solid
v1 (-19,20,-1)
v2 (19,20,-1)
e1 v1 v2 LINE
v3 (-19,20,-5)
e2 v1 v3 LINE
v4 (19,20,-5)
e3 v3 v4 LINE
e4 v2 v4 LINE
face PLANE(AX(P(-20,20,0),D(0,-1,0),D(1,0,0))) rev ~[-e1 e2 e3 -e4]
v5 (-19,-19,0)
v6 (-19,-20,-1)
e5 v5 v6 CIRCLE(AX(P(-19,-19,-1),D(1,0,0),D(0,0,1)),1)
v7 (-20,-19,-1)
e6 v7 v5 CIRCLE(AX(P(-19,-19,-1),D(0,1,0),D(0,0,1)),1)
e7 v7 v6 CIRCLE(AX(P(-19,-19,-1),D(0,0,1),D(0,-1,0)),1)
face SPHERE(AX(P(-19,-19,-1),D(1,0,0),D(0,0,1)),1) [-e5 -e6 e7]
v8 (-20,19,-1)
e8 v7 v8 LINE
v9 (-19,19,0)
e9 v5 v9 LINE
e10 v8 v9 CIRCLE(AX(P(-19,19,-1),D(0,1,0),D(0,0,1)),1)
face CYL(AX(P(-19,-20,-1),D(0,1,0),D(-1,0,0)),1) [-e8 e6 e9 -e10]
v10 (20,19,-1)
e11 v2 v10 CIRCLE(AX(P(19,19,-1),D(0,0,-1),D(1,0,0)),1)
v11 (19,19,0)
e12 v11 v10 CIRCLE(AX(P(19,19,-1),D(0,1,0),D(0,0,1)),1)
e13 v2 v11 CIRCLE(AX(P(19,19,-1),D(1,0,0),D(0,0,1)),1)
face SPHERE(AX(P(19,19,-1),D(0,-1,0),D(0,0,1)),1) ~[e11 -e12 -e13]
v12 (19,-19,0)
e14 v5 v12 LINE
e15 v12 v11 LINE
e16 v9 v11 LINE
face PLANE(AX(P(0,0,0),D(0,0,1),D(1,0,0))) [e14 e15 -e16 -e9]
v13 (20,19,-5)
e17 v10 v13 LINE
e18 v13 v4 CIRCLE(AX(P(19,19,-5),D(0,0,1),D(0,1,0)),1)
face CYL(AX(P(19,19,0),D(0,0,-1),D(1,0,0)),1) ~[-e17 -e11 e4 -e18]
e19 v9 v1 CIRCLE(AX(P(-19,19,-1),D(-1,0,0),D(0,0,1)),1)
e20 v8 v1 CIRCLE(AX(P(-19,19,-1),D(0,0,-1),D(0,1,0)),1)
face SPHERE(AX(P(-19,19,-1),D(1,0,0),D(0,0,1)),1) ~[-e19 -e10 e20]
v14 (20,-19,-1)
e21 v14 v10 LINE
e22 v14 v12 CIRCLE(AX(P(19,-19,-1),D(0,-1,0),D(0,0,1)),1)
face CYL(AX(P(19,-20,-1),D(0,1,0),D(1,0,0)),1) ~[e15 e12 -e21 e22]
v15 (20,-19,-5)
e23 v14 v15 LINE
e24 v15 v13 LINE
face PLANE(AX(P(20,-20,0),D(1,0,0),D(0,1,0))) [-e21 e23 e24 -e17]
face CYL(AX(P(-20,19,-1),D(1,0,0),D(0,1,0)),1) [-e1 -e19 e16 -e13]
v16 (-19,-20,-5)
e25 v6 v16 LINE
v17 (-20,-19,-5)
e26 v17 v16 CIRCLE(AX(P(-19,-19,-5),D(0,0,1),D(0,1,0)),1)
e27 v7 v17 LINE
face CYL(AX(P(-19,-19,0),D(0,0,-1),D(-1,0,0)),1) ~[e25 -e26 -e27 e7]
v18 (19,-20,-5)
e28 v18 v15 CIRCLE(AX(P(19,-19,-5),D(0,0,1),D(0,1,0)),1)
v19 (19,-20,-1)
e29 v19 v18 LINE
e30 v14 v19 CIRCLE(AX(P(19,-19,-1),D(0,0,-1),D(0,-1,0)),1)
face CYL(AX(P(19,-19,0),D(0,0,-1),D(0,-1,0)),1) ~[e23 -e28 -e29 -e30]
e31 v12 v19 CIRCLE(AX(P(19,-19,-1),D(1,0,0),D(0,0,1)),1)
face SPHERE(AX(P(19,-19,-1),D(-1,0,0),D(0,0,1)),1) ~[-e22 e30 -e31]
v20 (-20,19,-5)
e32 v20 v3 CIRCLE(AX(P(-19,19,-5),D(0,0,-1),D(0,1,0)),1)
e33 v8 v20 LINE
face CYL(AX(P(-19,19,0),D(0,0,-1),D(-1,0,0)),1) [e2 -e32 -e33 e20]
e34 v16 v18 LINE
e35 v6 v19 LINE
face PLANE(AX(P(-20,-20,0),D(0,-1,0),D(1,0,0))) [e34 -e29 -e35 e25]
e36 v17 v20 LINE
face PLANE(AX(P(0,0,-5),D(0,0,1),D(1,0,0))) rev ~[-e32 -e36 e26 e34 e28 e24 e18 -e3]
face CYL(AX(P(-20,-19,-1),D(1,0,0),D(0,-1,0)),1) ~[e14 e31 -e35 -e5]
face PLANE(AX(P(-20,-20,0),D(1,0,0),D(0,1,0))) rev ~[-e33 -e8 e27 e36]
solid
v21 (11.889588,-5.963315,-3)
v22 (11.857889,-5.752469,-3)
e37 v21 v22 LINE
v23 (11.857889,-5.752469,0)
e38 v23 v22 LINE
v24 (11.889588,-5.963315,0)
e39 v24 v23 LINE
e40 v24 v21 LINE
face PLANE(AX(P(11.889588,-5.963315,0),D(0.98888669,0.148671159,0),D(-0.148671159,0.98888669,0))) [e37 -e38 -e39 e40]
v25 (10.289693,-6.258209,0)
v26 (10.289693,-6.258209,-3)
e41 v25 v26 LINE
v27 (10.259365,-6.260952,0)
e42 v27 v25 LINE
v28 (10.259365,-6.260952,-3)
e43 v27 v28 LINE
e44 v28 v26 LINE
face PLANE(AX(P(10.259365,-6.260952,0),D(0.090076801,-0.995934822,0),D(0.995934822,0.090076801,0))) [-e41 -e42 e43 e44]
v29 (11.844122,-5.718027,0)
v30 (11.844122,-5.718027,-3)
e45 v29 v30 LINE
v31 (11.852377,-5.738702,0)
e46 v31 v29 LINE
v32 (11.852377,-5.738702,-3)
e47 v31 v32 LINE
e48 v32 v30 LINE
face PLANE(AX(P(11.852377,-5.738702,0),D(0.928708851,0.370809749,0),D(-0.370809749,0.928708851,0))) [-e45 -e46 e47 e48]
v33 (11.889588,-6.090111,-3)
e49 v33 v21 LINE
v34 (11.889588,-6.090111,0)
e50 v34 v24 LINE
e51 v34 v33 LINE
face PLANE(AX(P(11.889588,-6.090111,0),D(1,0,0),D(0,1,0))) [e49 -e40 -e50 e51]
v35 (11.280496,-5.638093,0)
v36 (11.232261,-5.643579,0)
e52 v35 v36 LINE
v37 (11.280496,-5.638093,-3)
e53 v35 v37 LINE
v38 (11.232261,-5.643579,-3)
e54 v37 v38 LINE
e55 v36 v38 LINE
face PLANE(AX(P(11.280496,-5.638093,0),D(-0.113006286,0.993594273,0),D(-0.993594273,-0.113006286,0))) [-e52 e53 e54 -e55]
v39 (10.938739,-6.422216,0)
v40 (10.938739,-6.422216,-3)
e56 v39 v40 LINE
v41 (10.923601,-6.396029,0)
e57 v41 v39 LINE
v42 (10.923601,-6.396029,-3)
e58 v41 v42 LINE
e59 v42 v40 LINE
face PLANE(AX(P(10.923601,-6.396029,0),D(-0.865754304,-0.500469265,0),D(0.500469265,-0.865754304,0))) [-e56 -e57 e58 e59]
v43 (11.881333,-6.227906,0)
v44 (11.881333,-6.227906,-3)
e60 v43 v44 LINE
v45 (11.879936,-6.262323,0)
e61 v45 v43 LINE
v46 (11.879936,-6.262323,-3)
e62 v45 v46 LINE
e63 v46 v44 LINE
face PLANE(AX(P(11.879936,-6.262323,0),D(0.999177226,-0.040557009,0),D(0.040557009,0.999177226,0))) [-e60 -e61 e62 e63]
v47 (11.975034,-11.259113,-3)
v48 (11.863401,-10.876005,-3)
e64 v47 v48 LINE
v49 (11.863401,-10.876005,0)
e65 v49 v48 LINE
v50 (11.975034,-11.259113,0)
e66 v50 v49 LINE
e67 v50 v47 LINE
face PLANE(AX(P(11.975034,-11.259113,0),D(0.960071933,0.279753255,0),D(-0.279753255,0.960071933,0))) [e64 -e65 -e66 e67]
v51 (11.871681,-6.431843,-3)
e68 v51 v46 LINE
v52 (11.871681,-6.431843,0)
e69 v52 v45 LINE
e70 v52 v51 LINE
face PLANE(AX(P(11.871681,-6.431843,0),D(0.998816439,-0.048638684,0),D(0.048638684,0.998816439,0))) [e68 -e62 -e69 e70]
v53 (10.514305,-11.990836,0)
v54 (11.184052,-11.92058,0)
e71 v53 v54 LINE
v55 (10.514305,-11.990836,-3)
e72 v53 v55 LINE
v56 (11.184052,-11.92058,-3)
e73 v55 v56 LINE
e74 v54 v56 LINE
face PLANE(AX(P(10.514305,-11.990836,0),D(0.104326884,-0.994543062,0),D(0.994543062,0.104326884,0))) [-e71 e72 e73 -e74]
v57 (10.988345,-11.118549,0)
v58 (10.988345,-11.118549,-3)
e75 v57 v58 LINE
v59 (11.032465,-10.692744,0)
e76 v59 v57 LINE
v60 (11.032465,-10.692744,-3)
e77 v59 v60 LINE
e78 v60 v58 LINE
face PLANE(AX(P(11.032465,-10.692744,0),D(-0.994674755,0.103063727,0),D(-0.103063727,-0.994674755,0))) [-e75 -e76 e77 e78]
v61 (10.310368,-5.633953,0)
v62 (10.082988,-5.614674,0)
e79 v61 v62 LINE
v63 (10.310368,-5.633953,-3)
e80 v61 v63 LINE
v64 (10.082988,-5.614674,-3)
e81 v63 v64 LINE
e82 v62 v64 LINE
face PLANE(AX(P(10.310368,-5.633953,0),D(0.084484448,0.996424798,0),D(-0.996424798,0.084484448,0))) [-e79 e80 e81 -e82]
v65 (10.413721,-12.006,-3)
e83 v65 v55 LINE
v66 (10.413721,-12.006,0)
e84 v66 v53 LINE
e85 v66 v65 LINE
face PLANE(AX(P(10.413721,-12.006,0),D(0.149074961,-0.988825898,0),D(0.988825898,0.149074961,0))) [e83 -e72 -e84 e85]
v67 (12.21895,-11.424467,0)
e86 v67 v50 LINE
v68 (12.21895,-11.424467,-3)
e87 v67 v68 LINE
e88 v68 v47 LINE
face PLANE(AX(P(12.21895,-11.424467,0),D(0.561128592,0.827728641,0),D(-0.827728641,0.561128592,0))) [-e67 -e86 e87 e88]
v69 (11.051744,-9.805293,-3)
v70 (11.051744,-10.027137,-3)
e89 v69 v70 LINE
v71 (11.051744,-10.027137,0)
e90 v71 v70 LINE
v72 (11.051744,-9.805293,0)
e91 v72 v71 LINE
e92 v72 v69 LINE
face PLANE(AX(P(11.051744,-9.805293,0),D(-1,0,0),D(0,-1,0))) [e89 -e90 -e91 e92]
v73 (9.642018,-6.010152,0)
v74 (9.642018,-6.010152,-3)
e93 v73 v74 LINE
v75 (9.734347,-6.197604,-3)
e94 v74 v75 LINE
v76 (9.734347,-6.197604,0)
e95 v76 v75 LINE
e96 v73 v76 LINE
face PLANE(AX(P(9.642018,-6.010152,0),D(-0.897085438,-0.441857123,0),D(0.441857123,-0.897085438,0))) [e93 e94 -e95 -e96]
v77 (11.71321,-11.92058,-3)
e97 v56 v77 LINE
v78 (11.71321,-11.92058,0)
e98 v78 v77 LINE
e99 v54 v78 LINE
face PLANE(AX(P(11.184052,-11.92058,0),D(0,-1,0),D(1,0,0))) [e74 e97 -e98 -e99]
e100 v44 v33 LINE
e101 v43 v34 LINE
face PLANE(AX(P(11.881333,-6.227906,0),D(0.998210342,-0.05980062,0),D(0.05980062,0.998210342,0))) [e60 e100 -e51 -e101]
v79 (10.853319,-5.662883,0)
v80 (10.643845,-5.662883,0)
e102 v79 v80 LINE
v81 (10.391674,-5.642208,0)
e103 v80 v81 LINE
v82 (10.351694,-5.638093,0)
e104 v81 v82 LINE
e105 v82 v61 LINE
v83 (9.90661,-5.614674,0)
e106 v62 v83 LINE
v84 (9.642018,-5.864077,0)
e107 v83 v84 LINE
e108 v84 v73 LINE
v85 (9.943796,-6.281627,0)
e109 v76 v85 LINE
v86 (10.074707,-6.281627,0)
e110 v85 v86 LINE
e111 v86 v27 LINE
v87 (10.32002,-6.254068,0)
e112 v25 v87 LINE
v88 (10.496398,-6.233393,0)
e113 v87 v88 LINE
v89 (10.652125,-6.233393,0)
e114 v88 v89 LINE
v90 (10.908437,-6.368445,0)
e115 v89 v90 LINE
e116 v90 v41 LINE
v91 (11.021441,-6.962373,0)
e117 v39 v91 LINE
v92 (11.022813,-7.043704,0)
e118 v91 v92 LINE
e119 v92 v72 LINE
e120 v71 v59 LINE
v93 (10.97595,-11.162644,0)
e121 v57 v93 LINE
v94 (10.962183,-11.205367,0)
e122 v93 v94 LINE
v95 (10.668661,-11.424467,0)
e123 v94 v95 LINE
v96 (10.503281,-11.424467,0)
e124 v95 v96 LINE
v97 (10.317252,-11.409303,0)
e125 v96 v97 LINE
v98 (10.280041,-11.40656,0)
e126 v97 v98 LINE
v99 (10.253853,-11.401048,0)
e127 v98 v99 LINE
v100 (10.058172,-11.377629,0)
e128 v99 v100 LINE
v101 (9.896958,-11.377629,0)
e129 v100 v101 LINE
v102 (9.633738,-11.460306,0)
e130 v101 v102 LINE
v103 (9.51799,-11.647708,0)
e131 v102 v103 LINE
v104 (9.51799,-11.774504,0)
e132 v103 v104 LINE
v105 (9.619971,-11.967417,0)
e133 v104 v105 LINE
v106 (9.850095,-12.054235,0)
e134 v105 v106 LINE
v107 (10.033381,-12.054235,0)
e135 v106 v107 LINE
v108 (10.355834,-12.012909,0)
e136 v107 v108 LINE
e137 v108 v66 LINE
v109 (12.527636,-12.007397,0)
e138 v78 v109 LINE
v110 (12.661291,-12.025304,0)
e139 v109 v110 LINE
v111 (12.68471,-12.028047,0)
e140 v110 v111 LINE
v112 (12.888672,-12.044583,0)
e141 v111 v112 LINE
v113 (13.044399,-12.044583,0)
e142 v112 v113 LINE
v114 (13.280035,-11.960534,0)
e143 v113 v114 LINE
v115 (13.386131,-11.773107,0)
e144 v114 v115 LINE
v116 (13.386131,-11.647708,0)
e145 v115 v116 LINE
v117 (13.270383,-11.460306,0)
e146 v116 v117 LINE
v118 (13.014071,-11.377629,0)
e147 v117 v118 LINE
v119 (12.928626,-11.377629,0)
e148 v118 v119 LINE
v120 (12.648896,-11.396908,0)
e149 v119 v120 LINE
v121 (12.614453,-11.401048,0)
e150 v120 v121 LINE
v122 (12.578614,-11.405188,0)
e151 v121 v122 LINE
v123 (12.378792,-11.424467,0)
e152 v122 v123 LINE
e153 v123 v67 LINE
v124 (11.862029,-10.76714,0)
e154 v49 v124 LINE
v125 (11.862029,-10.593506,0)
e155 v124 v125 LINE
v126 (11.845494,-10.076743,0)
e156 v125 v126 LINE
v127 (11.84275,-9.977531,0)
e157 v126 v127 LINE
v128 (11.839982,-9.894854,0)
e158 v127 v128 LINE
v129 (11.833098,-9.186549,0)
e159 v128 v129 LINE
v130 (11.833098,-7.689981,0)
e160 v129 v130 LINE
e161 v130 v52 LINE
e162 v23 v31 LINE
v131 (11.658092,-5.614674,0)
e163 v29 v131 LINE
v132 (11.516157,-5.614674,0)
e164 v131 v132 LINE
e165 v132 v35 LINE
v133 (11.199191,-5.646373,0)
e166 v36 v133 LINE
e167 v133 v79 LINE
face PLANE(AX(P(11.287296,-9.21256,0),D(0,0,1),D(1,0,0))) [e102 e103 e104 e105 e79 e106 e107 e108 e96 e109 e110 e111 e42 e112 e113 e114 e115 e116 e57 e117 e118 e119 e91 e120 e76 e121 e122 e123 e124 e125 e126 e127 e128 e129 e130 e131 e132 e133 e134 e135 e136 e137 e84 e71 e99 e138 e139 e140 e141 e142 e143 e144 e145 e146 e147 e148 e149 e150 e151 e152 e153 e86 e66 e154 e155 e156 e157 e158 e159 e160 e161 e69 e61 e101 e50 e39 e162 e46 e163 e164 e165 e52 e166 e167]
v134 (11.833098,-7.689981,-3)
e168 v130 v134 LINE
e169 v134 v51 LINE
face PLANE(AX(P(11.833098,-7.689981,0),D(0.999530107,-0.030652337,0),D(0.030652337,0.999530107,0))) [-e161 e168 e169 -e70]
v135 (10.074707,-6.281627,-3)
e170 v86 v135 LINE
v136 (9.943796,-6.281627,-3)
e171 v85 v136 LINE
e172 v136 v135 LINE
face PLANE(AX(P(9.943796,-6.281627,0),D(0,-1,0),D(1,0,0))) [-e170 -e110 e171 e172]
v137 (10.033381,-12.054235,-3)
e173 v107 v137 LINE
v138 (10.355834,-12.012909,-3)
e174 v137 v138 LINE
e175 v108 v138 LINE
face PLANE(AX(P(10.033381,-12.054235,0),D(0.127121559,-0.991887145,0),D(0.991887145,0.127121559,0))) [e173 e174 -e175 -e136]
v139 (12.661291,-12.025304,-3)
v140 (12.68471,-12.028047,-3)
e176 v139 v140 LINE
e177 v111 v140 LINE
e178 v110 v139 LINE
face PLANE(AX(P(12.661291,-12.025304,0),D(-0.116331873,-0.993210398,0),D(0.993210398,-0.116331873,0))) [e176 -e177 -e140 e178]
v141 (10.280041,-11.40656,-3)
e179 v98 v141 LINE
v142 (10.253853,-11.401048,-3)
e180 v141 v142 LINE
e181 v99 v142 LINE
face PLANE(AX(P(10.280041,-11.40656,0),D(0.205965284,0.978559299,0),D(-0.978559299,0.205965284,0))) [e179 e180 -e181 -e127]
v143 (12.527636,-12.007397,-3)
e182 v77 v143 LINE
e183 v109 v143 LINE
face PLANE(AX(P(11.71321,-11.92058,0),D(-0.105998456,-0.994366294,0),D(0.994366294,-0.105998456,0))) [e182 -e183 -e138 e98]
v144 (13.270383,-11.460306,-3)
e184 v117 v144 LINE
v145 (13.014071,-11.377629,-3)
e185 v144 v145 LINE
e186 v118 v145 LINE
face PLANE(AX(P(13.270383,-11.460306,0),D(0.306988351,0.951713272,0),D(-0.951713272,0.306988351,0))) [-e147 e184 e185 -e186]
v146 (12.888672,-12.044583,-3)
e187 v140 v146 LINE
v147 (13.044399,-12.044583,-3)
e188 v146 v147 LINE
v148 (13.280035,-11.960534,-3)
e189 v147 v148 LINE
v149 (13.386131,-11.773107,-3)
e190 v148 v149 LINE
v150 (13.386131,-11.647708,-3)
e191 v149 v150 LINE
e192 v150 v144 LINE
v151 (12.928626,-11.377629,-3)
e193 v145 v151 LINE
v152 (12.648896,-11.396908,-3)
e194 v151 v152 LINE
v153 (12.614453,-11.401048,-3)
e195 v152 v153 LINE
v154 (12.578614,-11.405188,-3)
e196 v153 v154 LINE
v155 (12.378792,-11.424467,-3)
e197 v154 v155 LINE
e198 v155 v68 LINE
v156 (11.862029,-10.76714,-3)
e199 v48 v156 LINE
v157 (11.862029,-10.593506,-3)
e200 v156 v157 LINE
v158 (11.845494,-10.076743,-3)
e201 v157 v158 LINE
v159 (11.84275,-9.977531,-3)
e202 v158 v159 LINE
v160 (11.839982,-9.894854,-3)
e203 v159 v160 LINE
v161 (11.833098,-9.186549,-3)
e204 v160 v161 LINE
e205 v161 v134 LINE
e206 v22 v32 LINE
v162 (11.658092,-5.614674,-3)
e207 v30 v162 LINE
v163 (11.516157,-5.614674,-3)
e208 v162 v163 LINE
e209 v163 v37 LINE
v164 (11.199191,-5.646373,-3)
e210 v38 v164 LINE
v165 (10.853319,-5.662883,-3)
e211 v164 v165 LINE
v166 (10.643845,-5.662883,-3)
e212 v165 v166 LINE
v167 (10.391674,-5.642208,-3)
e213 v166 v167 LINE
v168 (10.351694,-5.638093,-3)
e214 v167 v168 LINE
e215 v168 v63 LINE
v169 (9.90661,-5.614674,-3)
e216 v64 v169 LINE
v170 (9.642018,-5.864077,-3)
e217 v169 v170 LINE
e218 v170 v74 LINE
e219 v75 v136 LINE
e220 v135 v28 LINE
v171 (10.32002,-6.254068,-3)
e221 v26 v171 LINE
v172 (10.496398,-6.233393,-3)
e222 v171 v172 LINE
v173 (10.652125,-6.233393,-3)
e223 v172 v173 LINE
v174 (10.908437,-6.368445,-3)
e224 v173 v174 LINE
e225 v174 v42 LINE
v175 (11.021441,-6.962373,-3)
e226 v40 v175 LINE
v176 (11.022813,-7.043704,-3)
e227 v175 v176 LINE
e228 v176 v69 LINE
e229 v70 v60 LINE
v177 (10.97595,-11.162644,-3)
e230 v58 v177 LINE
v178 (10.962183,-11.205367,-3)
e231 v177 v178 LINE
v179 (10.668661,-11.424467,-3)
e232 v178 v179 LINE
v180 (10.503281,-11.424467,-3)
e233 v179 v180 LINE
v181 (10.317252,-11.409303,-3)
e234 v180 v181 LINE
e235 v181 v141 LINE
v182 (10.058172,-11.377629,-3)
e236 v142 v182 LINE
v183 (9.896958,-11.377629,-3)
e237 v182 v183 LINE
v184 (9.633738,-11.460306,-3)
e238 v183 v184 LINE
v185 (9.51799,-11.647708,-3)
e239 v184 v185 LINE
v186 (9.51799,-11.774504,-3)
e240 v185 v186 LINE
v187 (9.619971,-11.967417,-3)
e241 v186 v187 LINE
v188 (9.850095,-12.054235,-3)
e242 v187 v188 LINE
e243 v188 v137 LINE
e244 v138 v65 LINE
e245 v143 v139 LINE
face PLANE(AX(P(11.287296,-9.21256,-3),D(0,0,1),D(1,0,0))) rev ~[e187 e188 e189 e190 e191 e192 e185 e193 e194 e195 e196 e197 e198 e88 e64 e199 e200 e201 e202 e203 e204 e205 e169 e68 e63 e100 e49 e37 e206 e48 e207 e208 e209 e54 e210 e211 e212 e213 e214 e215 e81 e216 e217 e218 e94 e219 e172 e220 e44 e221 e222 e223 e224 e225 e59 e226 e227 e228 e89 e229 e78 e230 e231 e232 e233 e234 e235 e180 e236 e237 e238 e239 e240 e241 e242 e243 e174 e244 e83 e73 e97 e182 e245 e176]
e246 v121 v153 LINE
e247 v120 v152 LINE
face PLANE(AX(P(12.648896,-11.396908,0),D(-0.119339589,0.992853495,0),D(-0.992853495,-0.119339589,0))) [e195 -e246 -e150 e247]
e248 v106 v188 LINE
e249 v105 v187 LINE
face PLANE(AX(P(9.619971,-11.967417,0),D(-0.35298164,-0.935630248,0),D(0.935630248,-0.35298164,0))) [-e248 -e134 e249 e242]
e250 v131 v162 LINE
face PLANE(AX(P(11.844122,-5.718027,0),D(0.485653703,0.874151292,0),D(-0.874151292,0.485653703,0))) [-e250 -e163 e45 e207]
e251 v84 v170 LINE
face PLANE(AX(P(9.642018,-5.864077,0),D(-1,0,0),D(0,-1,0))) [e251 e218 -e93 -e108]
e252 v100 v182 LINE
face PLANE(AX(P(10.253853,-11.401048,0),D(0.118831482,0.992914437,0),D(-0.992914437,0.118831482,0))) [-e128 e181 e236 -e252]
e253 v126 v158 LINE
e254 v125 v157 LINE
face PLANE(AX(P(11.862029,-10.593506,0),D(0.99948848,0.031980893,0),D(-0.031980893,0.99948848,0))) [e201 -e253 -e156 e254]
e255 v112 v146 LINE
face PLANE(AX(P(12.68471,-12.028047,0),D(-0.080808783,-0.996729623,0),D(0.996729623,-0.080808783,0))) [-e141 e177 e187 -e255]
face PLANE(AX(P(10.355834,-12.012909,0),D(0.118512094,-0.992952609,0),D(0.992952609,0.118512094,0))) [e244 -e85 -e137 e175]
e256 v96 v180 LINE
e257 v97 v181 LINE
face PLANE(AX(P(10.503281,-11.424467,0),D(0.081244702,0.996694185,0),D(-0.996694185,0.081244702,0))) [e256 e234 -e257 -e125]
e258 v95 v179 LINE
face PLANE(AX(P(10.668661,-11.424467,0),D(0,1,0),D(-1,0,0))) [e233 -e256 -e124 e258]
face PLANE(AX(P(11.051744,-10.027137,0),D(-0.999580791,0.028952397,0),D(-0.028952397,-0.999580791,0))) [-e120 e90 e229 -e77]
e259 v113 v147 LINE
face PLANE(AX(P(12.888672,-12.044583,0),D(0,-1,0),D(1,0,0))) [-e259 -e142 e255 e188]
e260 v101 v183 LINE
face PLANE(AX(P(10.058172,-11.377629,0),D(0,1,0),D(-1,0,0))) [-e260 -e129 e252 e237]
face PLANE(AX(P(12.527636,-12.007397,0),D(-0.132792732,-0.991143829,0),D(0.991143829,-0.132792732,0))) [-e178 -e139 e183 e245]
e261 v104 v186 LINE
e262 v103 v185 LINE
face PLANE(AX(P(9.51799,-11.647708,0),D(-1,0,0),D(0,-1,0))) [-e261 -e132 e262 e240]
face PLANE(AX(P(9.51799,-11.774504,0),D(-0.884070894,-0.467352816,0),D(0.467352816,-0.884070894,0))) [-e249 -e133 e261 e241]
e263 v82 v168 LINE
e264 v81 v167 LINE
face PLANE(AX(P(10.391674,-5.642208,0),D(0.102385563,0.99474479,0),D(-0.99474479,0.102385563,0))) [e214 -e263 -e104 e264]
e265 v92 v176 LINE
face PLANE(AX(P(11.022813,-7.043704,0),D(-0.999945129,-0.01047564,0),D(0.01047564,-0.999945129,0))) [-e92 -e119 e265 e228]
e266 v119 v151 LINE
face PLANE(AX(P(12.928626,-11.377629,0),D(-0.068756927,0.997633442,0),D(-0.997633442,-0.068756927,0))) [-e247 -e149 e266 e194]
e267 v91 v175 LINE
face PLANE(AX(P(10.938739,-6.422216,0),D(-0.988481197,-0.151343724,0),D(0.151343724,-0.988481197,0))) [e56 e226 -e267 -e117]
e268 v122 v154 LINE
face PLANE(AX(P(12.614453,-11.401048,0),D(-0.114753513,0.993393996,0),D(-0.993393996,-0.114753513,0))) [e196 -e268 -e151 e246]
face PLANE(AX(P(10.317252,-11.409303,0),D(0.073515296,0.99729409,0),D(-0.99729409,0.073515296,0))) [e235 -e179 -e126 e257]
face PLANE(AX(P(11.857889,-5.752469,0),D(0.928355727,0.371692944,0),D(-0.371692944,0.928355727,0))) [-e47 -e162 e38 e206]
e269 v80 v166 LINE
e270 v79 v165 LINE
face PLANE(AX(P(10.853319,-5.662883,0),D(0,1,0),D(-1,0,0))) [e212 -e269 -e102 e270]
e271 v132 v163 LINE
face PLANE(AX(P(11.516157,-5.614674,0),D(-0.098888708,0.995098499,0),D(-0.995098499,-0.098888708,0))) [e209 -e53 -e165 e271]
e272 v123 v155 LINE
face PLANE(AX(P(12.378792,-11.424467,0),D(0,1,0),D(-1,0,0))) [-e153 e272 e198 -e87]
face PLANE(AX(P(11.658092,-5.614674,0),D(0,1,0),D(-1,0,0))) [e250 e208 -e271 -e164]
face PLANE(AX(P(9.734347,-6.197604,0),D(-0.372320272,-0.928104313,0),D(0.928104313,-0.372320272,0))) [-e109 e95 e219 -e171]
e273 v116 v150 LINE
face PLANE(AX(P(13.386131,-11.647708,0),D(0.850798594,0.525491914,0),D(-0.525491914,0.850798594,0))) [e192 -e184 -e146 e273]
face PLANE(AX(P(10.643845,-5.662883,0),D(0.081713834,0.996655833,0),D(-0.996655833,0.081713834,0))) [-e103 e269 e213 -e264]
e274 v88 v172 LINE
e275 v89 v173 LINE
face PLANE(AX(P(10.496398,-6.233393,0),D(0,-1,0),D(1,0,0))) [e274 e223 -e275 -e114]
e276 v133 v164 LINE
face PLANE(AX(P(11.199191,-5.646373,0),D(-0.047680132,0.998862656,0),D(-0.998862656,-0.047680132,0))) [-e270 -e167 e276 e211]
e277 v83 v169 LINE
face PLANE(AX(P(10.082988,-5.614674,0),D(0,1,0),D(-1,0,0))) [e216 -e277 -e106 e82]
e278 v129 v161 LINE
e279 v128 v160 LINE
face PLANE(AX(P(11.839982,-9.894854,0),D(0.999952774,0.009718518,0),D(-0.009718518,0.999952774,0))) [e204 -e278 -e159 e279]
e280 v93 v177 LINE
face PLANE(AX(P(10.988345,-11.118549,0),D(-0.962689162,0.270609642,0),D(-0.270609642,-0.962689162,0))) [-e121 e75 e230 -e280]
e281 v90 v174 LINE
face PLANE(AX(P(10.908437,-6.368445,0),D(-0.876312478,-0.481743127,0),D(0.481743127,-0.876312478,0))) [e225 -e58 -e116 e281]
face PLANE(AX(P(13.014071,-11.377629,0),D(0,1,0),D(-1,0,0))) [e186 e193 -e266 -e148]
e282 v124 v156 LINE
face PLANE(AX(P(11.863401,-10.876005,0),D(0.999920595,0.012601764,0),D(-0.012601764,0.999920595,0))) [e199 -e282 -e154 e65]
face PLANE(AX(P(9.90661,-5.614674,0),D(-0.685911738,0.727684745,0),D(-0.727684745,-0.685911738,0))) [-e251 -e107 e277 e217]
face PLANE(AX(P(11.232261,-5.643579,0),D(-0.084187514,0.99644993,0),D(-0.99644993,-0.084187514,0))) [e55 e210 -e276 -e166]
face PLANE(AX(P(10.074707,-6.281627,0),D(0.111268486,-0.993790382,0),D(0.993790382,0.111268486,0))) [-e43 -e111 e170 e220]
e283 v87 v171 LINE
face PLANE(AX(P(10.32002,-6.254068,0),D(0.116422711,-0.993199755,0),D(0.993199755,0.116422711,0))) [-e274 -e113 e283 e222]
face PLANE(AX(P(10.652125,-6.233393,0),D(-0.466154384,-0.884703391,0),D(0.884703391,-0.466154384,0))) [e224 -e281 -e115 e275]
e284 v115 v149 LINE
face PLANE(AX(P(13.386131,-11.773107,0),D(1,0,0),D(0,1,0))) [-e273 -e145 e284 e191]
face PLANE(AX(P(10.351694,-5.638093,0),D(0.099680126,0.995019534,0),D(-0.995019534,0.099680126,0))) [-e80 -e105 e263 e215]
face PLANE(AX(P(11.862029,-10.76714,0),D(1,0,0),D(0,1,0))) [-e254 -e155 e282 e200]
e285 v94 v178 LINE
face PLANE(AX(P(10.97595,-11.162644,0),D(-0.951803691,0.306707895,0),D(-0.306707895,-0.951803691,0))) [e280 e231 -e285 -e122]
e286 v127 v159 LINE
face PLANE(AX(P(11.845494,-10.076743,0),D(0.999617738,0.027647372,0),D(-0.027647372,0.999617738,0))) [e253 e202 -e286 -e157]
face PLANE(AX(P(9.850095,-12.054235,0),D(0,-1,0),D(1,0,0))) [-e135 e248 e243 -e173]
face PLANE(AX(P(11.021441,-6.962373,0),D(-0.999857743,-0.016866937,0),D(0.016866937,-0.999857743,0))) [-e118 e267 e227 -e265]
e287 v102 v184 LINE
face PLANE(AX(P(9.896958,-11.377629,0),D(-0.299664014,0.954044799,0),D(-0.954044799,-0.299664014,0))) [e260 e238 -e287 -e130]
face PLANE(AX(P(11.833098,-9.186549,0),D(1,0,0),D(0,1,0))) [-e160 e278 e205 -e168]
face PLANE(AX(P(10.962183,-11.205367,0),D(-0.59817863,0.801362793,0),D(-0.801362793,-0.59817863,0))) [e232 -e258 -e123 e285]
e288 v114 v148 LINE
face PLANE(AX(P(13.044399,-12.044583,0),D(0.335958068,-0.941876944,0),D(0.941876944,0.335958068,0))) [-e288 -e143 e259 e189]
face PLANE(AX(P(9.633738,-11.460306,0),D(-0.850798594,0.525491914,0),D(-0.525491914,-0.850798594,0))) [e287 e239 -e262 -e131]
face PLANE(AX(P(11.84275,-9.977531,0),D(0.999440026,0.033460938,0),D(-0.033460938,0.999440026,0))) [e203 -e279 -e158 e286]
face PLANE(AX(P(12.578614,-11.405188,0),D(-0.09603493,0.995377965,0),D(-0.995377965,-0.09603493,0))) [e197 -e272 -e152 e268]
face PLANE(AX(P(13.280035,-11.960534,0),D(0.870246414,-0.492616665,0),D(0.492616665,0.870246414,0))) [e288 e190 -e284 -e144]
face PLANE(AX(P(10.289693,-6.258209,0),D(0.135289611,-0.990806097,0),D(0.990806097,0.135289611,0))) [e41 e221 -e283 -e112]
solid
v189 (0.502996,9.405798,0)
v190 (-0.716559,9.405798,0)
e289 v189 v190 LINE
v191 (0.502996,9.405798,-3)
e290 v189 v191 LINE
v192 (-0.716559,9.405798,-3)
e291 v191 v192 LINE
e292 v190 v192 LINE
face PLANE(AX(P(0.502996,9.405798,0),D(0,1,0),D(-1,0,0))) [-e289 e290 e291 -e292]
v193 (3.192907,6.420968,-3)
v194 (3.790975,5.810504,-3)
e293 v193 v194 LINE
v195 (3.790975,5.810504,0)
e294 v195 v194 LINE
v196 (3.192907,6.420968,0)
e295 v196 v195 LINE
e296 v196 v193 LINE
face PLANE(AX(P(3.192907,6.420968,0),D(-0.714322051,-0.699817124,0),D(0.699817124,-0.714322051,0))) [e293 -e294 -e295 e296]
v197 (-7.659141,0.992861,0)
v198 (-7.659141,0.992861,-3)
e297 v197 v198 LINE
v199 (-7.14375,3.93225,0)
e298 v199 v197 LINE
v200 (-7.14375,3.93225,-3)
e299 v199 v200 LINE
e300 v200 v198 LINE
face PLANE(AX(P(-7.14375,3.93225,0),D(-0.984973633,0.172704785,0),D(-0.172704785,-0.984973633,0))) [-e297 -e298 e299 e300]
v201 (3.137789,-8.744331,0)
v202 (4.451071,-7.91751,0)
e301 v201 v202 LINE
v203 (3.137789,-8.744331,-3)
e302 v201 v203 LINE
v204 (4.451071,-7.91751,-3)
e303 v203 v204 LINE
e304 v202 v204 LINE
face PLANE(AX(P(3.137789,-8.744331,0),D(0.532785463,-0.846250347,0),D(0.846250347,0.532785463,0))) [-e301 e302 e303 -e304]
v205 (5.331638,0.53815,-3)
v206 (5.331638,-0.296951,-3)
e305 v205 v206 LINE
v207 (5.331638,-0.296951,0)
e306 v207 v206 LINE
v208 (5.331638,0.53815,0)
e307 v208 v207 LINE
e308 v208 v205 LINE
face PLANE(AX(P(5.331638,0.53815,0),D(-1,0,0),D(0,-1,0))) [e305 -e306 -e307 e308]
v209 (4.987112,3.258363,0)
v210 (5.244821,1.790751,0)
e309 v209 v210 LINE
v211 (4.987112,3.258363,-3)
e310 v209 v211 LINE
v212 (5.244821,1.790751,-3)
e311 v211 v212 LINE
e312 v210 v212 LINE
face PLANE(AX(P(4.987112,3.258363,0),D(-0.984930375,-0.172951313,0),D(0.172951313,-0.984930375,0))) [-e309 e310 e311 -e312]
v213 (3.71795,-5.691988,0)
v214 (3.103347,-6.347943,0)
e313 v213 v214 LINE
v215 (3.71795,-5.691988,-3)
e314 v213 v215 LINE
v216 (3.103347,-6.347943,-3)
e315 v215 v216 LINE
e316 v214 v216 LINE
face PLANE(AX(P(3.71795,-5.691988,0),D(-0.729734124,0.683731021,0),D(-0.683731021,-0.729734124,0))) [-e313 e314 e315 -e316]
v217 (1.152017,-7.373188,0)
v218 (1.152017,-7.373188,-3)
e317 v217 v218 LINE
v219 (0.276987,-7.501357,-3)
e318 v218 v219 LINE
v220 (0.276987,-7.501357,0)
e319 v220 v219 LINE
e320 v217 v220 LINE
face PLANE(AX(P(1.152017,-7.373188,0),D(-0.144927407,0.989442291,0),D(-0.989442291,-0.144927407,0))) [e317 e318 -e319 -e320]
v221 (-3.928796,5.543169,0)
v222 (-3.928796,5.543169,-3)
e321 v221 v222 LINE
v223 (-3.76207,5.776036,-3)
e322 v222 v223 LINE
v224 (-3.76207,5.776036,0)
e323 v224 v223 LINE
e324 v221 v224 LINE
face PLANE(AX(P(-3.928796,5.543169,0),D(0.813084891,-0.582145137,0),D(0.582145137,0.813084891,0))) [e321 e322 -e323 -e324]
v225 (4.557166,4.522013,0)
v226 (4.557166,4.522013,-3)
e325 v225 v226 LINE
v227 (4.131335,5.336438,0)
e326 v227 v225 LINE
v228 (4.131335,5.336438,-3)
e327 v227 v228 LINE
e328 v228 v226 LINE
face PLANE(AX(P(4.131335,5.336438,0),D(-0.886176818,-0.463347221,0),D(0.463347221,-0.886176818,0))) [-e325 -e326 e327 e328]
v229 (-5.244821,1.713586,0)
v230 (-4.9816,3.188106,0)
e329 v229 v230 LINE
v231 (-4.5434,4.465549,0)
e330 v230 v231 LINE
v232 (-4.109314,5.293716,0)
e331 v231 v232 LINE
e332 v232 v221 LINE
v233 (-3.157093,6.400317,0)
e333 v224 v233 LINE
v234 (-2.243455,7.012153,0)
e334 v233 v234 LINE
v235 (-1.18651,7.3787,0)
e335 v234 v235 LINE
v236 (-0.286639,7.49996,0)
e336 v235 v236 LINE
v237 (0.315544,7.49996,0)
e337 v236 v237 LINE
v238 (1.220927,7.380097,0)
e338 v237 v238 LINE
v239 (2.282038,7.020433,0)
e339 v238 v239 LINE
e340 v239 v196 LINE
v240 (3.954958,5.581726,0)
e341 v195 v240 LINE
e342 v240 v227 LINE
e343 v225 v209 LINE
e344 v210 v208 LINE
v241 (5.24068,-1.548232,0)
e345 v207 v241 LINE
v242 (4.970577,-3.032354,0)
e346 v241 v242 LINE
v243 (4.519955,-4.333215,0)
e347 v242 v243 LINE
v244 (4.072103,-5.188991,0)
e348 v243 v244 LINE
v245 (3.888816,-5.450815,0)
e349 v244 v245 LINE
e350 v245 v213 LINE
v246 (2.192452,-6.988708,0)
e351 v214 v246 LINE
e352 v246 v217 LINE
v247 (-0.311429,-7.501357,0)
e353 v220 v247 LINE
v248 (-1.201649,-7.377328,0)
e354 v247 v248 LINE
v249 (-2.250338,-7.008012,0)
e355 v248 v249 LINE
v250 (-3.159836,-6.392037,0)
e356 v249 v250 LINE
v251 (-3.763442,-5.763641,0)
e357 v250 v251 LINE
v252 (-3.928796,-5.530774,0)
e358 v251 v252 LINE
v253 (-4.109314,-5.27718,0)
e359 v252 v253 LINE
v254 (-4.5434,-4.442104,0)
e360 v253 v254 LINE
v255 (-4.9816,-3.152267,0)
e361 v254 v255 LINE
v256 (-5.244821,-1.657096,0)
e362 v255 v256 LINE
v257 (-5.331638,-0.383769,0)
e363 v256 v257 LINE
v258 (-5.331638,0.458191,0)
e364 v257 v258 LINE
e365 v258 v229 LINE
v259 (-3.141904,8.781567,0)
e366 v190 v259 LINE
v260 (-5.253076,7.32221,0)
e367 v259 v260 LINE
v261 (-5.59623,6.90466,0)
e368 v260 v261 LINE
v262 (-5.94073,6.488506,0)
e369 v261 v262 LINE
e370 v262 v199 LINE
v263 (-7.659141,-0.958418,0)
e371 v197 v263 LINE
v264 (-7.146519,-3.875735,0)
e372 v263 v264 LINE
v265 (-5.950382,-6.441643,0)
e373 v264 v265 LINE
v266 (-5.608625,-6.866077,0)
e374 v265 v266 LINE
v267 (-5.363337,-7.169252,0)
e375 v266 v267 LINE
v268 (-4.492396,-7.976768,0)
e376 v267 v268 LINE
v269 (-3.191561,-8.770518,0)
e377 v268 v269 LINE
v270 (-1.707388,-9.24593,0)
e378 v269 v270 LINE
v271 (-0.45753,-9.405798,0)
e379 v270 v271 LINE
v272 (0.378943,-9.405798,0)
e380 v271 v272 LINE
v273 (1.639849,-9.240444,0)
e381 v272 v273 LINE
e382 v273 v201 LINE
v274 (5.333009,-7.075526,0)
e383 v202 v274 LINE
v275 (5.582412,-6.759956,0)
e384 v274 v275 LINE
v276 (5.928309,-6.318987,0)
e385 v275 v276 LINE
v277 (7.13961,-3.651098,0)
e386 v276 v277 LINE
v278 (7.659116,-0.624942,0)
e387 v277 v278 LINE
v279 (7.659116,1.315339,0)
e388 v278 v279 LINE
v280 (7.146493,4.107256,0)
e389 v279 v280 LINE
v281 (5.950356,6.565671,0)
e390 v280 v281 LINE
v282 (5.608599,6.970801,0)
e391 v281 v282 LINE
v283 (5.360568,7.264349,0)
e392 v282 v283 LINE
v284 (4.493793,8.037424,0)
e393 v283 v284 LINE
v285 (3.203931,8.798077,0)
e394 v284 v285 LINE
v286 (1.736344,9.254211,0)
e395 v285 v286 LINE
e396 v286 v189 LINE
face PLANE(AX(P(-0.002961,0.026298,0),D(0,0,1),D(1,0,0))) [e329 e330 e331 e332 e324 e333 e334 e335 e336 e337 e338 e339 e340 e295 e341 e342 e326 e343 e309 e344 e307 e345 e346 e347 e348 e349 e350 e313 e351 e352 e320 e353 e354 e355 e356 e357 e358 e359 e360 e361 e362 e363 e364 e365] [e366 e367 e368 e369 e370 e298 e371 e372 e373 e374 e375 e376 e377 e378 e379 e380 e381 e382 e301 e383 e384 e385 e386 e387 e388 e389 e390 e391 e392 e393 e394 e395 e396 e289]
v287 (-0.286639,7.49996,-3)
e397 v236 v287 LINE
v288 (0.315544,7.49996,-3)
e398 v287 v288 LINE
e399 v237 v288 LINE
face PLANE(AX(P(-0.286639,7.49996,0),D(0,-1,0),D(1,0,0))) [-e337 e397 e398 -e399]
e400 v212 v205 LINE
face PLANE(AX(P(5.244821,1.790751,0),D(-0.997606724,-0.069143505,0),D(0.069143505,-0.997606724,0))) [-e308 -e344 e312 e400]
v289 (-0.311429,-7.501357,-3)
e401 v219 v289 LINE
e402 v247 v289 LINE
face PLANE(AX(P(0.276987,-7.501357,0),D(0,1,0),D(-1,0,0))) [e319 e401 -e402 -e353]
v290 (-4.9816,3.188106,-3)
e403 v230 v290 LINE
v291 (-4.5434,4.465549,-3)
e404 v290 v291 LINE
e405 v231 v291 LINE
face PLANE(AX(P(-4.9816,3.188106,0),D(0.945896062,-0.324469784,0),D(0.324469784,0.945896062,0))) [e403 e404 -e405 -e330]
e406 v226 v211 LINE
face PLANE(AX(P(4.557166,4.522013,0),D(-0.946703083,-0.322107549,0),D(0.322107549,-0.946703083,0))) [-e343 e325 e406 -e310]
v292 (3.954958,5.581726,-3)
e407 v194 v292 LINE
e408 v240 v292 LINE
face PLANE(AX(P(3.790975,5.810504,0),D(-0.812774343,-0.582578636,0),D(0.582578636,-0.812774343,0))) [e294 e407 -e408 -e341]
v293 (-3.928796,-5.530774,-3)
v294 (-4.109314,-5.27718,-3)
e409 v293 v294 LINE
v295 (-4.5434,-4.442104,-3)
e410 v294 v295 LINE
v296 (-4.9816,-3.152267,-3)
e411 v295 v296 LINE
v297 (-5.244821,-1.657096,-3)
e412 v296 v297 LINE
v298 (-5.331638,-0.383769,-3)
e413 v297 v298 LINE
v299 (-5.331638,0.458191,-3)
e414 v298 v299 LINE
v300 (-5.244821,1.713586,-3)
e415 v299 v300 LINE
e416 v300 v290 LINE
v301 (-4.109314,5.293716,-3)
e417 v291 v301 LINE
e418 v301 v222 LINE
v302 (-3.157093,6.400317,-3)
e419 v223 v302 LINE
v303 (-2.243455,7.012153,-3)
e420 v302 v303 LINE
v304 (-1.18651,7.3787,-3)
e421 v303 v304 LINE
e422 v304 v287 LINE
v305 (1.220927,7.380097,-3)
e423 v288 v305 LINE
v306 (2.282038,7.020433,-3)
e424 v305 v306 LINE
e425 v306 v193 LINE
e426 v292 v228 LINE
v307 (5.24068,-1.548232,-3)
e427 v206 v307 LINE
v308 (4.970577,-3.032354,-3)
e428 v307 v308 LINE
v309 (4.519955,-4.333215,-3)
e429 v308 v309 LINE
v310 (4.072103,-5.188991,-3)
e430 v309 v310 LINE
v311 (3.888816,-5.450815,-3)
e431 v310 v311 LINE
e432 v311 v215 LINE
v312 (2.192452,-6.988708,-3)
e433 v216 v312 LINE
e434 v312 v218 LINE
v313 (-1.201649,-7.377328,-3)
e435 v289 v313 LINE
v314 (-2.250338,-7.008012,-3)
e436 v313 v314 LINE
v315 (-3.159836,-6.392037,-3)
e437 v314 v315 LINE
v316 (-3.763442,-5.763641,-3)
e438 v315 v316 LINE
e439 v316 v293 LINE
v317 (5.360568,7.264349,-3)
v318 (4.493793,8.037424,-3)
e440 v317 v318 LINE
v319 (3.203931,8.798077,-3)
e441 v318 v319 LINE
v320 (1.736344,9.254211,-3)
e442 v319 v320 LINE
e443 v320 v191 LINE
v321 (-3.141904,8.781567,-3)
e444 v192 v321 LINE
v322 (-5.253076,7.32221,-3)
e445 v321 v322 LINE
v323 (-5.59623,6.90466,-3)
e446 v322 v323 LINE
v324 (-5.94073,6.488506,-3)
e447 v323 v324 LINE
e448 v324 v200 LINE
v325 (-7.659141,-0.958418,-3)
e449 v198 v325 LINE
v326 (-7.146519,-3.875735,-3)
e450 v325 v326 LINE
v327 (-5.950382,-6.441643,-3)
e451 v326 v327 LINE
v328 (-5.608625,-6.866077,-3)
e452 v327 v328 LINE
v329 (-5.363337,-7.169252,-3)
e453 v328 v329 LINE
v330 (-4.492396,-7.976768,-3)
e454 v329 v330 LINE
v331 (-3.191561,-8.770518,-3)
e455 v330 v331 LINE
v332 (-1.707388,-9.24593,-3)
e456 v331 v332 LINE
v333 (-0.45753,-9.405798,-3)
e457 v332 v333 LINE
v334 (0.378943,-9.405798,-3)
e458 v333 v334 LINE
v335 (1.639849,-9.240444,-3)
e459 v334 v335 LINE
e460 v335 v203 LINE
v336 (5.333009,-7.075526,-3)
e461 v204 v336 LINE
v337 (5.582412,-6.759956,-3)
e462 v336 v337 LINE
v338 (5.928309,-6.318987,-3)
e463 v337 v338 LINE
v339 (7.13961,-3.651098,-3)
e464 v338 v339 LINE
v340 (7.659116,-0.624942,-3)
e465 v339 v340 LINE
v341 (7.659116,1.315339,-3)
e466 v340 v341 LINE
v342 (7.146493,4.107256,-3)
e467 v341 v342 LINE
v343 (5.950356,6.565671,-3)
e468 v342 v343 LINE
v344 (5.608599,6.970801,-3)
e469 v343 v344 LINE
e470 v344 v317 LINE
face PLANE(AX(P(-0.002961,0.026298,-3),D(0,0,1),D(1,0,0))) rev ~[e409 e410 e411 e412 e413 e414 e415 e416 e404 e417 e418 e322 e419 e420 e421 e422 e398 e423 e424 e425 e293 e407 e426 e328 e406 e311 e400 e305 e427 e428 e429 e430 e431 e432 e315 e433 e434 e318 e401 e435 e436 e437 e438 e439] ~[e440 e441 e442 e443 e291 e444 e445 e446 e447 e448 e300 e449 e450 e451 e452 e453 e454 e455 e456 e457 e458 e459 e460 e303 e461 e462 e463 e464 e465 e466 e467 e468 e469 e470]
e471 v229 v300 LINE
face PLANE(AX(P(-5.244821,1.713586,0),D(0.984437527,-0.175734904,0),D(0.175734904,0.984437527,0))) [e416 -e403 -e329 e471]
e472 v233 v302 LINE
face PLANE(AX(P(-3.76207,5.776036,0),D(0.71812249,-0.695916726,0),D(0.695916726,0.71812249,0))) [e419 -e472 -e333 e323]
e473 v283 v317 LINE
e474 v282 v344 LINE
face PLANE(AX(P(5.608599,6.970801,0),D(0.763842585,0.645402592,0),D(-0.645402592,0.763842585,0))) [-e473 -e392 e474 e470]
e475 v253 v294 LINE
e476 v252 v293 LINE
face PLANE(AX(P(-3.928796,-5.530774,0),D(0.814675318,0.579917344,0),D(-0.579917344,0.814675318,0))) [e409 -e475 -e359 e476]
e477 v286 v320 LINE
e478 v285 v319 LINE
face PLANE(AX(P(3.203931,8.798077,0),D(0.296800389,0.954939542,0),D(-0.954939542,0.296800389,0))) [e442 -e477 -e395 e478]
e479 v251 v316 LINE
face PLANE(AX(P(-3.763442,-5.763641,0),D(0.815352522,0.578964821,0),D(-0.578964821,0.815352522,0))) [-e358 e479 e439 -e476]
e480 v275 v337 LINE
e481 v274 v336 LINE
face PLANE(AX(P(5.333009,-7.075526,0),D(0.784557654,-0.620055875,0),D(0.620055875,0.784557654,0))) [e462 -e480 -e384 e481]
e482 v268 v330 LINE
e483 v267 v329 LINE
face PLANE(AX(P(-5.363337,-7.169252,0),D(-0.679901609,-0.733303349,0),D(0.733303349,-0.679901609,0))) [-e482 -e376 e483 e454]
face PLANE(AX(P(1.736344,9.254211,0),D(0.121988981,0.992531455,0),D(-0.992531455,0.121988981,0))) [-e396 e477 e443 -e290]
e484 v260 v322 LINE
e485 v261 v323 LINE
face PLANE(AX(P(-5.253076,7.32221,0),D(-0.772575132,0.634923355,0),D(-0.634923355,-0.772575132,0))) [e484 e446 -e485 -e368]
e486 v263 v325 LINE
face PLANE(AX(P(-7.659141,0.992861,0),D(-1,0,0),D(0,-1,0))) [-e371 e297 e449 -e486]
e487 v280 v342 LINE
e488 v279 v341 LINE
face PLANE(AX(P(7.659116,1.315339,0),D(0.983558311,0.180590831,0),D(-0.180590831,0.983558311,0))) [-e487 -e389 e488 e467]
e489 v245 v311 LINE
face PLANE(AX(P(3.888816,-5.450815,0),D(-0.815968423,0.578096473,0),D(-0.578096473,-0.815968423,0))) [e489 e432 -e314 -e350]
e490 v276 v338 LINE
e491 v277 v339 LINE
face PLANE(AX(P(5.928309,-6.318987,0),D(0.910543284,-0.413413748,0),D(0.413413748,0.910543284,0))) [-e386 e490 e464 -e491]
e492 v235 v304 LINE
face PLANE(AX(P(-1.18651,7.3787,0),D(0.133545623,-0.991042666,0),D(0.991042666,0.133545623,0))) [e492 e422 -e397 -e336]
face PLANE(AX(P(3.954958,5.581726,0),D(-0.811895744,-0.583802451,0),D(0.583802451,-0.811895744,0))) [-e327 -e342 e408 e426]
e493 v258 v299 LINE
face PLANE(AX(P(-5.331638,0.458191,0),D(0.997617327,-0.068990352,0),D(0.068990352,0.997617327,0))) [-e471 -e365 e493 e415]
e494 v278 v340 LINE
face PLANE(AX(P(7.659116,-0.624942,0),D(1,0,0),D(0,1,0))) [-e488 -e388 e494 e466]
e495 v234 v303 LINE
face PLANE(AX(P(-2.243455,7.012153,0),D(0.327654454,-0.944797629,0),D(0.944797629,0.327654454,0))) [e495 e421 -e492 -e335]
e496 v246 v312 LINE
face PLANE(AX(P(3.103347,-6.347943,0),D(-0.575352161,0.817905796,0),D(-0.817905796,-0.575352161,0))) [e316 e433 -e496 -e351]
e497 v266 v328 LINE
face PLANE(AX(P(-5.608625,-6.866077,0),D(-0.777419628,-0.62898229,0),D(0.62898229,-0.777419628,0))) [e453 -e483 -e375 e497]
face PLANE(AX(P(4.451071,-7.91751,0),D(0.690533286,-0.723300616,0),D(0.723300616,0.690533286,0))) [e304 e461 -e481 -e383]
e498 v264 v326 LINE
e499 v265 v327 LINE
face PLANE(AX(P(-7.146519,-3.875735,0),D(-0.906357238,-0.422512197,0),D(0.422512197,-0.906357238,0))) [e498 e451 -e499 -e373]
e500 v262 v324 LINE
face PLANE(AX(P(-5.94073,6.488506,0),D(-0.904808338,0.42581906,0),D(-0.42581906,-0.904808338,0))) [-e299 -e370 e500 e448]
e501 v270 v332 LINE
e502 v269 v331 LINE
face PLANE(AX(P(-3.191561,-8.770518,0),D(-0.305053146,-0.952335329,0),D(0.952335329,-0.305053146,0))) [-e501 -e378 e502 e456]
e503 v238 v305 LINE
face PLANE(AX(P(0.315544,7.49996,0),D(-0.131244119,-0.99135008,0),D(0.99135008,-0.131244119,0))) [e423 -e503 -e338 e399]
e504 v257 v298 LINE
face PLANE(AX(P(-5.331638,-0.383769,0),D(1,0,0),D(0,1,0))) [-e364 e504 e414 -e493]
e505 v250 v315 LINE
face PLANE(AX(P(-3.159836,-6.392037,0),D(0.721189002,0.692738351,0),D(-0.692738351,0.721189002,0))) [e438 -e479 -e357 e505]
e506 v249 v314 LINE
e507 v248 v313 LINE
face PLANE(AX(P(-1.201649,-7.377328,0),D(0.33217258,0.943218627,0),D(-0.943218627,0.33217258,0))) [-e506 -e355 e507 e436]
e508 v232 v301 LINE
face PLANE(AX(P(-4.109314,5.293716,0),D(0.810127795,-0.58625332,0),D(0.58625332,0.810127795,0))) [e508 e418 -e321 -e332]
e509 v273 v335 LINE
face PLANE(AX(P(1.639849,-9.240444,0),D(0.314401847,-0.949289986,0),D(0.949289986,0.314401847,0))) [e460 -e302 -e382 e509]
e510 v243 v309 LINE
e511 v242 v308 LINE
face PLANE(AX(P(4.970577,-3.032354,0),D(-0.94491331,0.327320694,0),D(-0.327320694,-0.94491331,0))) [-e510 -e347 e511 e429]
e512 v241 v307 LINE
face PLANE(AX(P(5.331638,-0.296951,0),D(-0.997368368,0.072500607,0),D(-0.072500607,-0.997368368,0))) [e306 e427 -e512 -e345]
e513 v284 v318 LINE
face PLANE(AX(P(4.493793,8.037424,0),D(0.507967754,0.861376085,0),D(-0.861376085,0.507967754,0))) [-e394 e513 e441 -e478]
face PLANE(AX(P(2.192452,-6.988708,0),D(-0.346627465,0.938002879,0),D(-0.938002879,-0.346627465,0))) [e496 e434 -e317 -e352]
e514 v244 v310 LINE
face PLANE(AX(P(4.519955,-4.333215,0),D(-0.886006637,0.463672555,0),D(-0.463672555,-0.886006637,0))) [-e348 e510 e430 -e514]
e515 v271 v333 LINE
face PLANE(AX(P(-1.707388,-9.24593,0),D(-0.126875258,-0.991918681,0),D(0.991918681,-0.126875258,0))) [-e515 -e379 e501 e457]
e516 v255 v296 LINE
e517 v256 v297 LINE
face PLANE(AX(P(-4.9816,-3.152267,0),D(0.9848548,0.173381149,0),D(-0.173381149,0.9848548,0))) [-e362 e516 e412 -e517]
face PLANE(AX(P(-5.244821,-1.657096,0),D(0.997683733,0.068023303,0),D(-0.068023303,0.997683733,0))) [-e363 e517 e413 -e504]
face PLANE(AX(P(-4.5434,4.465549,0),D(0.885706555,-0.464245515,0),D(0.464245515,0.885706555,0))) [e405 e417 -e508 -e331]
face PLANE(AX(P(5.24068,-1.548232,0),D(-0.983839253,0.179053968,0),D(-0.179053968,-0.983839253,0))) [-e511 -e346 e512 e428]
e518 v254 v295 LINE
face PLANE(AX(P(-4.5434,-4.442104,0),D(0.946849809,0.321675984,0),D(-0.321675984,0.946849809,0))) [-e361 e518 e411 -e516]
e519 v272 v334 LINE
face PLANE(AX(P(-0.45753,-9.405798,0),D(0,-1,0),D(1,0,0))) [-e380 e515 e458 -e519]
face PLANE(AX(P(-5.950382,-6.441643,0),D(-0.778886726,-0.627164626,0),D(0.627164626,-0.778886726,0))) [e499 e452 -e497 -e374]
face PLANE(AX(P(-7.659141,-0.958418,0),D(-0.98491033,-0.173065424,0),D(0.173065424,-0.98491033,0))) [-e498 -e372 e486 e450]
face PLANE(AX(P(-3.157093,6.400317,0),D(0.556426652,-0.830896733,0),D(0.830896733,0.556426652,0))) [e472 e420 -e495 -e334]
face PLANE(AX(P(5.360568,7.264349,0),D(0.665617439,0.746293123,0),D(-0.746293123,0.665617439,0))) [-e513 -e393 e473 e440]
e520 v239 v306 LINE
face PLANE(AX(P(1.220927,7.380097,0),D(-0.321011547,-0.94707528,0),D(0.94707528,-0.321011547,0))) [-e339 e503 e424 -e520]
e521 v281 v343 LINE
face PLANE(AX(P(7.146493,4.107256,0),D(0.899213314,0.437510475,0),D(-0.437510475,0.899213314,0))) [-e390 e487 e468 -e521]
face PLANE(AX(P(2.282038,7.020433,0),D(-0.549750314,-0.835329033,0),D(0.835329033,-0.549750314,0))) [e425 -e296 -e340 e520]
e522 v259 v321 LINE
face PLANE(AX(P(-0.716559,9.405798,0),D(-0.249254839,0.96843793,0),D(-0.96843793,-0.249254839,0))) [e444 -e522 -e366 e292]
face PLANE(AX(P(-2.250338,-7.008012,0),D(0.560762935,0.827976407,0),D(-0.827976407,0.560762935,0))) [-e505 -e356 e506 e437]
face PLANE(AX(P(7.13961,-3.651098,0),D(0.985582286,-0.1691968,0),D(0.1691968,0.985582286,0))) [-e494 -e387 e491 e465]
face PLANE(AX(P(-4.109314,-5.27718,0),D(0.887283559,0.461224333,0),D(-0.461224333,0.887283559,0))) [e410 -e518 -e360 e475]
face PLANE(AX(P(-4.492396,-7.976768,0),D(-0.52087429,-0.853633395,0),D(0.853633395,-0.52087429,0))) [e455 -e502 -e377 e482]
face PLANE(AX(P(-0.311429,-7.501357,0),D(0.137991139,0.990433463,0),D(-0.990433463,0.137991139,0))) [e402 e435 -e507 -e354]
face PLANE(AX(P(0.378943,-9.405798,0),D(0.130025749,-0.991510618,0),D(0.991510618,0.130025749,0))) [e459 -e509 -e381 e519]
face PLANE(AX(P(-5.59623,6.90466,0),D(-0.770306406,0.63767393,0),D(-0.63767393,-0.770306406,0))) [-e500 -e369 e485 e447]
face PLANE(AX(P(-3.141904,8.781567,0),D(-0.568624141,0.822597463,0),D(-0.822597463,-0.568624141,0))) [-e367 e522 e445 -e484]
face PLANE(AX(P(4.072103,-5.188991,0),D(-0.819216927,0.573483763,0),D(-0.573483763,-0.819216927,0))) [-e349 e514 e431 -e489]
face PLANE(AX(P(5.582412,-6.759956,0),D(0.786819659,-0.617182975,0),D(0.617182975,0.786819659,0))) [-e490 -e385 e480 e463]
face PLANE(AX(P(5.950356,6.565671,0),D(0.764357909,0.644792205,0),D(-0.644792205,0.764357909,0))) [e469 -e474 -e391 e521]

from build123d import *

# Parameters (mm, degrees)
F0_W     = 40
F0_H     = 40
F1_DEPTH = 5
F2_R     = 1
F5_DEPTH = 3


with BuildPart() as f1:
    # F0 (on Top) → F1 (new body)
    with BuildSketch(Plane.XY):
        Rectangle(F0_W, F0_H)
    extrude(amount=-F1_DEPTH)

    # F2
    f2_edges = [f1.edges().sort_by_distance(p)[0] for p in [
        (0, -20, 0),
        (20, 0, 0),
        (0, 20, 0),
        (-20, 0, 0),
        (-20, 20, -2.5),
        (20, 20, -2.5),
        (-20, -20, -2.5),
        (20, -20, -2.5),
    ]]
    fillet(f2_edges, radius=F2_R)


with BuildPart() as f5:
    # F3 (on Top) + F4 (on Top) → F5 (new body)
    with BuildSketch(Plane.XY):
        Polygon((-0.45753, -9.405798), (-0.03998, -9.405798), (0.378943, -9.405798), (1.639849, -9.240444), (3.137789, -8.744331), (4.451071, -7.91751), (5.333009, -7.075526), (5.582412, -6.759956), (5.928309, -6.318987), (7.13961, -3.651098), (7.659116, -0.624942), (7.659116, 0.383794), (7.659116, 1.315339), (7.146493, 4.107256), (5.950356, 6.565671), (5.608599, 6.970801), (5.360568, 7.264349), (4.493793, 8.037424), (3.203931, 8.798077), (1.736344, 9.254211), (0.502996, 9.405798), (0.092329, 9.405798), (-0.716559, 9.405798), (-3.141904, 8.781567), (-5.253076, 7.32221), (-5.59623, 6.90466), (-5.94073, 6.488506), (-7.14375, 3.93225), (-7.659141, 0.992861), (-7.659141, 0.013106), (-7.659141, -0.958418), (-7.146519, -3.875735), (-5.950382, -6.441643), (-5.608625, -6.866077), (-5.363337, -7.169252), (-4.492396, -7.976768), (-3.191561, -8.770518), (-1.707388, -9.24593), align=None)
        Polygon((-0.286639, 7.49996), (0.013792, 7.49996), (0.315544, 7.49996), (1.220927, 7.380097), (2.282038, 7.020433), (3.192907, 6.420968), (3.790975, 5.810504), (3.954958, 5.581726), (4.131335, 5.336438), (4.557166, 4.522013), (4.987112, 3.258363), (5.244821, 1.790751), (5.331638, 0.53815), (5.331638, 0.119228), (5.331638, -0.296951), (5.24068, -1.548232), (4.970577, -3.032354), (4.519955, -4.333215), (4.072103, -5.188991), (3.888816, -5.450815), (3.71795, -5.691988), (3.103347, -6.347943), (2.192452, -6.988708), (1.152017, -7.373188), (0.276987, -7.501357), (-0.013792, -7.501357), (-0.311429, -7.501357), (-1.201649, -7.377328), (-2.250338, -7.008012), (-3.159836, -6.392037), (-3.763442, -5.763641), (-3.928796, -5.530774), (-4.109314, -5.27718), (-4.5434, -4.442104), (-4.9816, -3.152267), (-5.244821, -1.657096), (-5.331638, -0.383769), (-5.331638, 0.039268), (-5.331638, 0.458191), (-5.244821, 1.713586), (-4.9816, 3.188106), (-4.5434, 4.465549), (-4.109314, 5.293716), (-3.928796, 5.543169), (-3.76207, 5.776036), (-3.157093, 6.400317), (-2.243455, 7.012153), (-1.18651, 7.3787), align=None, mode=Mode.SUBTRACT)
    with BuildSketch(Plane.XY):
        Polygon((11.022813, -7.043704), (11.051744, -9.805293), (11.051744, -10.027137), (11.032465, -10.692744), (10.988345, -11.118549), (10.97595, -11.162644), (10.962183, -11.205367), (10.668661, -11.424467), (10.56668, -11.424467), (10.503281, -11.424467), (10.317252, -11.409303), (10.280041, -11.40656), (10.253853, -11.401048), (10.058172, -11.377629), (9.985147, -11.377629), (9.896958, -11.377629), (9.633738, -11.460306), (9.51799, -11.647708), (9.51799, -11.711106), (9.51799, -11.774504), (9.619971, -11.967417), (9.850095, -12.054235), (9.92726, -12.054235), (10.033381, -12.054235), (10.355834, -12.012909), (10.413721, -12.006), (10.514305, -11.990836), (11.184052, -11.92058), (11.441735, -11.92058), (11.71321, -11.92058), (12.527636, -12.007397), (12.661291, -12.025304), (12.68471, -12.028047), (12.888672, -12.044583), (12.965837, -12.044583), (13.044399, -12.044583), (13.280035, -11.960534), (13.386131, -11.773107), (13.386131, -11.711106), (13.386131, -11.647708), (13.270383, -11.460306), (13.014071, -11.377629), (12.928626, -11.377629), (12.648896, -11.396908), (12.614453, -11.401048), (12.578614, -11.405188), (12.378792, -11.424467), (12.300255, -11.424467), (12.21895, -11.424467), (11.975034, -11.259113), (11.863401, -10.876005), (11.862029, -10.76714), (11.862029, -10.593506), (11.845494, -10.076743), (11.84275, -9.977531), (11.839982, -9.894854), (11.833098, -9.186549), (11.833098, -8.110275), (11.833098, -7.689981), (11.871681, -6.431843), (11.879936, -6.262323), (11.881333, -6.227906), (11.889588, -6.090111), (11.889588, -6.033596), (11.889588, -5.963315), (11.857889, -5.752469), (11.852377, -5.738702), (11.844122, -5.718027), (11.658092, -5.614674), (11.594694, -5.614674), (11.516157, -5.614674), (11.280496, -5.638093), (11.232261, -5.643579), (11.199191, -5.646373), (10.853319, -5.662883), (10.727919, -5.662883), (10.643845, -5.662883), (10.391674, -5.642208), (10.351694, -5.638093), (10.310368, -5.633953), (10.082988, -5.614674), (9.994799, -5.614674), (9.90661, -5.614674), (9.642018, -5.864077), (9.642018, -5.948151), (9.642018, -6.010152), (9.734347, -6.197604), (9.943796, -6.281627), (10.014077, -6.281627), (10.074707, -6.281627), (10.259365, -6.260952), (10.289693, -6.258209), (10.32002, -6.254068), (10.496398, -6.233393), (10.56668, -6.233393), (10.652125, -6.233393), (10.908437, -6.368445), (10.923601, -6.396029), (10.938739, -6.422216), (11.021441, -6.962373), align=None)
    extrude(amount=-F5_DEPTH)


solid = Compound([f1.part, f5.part])
